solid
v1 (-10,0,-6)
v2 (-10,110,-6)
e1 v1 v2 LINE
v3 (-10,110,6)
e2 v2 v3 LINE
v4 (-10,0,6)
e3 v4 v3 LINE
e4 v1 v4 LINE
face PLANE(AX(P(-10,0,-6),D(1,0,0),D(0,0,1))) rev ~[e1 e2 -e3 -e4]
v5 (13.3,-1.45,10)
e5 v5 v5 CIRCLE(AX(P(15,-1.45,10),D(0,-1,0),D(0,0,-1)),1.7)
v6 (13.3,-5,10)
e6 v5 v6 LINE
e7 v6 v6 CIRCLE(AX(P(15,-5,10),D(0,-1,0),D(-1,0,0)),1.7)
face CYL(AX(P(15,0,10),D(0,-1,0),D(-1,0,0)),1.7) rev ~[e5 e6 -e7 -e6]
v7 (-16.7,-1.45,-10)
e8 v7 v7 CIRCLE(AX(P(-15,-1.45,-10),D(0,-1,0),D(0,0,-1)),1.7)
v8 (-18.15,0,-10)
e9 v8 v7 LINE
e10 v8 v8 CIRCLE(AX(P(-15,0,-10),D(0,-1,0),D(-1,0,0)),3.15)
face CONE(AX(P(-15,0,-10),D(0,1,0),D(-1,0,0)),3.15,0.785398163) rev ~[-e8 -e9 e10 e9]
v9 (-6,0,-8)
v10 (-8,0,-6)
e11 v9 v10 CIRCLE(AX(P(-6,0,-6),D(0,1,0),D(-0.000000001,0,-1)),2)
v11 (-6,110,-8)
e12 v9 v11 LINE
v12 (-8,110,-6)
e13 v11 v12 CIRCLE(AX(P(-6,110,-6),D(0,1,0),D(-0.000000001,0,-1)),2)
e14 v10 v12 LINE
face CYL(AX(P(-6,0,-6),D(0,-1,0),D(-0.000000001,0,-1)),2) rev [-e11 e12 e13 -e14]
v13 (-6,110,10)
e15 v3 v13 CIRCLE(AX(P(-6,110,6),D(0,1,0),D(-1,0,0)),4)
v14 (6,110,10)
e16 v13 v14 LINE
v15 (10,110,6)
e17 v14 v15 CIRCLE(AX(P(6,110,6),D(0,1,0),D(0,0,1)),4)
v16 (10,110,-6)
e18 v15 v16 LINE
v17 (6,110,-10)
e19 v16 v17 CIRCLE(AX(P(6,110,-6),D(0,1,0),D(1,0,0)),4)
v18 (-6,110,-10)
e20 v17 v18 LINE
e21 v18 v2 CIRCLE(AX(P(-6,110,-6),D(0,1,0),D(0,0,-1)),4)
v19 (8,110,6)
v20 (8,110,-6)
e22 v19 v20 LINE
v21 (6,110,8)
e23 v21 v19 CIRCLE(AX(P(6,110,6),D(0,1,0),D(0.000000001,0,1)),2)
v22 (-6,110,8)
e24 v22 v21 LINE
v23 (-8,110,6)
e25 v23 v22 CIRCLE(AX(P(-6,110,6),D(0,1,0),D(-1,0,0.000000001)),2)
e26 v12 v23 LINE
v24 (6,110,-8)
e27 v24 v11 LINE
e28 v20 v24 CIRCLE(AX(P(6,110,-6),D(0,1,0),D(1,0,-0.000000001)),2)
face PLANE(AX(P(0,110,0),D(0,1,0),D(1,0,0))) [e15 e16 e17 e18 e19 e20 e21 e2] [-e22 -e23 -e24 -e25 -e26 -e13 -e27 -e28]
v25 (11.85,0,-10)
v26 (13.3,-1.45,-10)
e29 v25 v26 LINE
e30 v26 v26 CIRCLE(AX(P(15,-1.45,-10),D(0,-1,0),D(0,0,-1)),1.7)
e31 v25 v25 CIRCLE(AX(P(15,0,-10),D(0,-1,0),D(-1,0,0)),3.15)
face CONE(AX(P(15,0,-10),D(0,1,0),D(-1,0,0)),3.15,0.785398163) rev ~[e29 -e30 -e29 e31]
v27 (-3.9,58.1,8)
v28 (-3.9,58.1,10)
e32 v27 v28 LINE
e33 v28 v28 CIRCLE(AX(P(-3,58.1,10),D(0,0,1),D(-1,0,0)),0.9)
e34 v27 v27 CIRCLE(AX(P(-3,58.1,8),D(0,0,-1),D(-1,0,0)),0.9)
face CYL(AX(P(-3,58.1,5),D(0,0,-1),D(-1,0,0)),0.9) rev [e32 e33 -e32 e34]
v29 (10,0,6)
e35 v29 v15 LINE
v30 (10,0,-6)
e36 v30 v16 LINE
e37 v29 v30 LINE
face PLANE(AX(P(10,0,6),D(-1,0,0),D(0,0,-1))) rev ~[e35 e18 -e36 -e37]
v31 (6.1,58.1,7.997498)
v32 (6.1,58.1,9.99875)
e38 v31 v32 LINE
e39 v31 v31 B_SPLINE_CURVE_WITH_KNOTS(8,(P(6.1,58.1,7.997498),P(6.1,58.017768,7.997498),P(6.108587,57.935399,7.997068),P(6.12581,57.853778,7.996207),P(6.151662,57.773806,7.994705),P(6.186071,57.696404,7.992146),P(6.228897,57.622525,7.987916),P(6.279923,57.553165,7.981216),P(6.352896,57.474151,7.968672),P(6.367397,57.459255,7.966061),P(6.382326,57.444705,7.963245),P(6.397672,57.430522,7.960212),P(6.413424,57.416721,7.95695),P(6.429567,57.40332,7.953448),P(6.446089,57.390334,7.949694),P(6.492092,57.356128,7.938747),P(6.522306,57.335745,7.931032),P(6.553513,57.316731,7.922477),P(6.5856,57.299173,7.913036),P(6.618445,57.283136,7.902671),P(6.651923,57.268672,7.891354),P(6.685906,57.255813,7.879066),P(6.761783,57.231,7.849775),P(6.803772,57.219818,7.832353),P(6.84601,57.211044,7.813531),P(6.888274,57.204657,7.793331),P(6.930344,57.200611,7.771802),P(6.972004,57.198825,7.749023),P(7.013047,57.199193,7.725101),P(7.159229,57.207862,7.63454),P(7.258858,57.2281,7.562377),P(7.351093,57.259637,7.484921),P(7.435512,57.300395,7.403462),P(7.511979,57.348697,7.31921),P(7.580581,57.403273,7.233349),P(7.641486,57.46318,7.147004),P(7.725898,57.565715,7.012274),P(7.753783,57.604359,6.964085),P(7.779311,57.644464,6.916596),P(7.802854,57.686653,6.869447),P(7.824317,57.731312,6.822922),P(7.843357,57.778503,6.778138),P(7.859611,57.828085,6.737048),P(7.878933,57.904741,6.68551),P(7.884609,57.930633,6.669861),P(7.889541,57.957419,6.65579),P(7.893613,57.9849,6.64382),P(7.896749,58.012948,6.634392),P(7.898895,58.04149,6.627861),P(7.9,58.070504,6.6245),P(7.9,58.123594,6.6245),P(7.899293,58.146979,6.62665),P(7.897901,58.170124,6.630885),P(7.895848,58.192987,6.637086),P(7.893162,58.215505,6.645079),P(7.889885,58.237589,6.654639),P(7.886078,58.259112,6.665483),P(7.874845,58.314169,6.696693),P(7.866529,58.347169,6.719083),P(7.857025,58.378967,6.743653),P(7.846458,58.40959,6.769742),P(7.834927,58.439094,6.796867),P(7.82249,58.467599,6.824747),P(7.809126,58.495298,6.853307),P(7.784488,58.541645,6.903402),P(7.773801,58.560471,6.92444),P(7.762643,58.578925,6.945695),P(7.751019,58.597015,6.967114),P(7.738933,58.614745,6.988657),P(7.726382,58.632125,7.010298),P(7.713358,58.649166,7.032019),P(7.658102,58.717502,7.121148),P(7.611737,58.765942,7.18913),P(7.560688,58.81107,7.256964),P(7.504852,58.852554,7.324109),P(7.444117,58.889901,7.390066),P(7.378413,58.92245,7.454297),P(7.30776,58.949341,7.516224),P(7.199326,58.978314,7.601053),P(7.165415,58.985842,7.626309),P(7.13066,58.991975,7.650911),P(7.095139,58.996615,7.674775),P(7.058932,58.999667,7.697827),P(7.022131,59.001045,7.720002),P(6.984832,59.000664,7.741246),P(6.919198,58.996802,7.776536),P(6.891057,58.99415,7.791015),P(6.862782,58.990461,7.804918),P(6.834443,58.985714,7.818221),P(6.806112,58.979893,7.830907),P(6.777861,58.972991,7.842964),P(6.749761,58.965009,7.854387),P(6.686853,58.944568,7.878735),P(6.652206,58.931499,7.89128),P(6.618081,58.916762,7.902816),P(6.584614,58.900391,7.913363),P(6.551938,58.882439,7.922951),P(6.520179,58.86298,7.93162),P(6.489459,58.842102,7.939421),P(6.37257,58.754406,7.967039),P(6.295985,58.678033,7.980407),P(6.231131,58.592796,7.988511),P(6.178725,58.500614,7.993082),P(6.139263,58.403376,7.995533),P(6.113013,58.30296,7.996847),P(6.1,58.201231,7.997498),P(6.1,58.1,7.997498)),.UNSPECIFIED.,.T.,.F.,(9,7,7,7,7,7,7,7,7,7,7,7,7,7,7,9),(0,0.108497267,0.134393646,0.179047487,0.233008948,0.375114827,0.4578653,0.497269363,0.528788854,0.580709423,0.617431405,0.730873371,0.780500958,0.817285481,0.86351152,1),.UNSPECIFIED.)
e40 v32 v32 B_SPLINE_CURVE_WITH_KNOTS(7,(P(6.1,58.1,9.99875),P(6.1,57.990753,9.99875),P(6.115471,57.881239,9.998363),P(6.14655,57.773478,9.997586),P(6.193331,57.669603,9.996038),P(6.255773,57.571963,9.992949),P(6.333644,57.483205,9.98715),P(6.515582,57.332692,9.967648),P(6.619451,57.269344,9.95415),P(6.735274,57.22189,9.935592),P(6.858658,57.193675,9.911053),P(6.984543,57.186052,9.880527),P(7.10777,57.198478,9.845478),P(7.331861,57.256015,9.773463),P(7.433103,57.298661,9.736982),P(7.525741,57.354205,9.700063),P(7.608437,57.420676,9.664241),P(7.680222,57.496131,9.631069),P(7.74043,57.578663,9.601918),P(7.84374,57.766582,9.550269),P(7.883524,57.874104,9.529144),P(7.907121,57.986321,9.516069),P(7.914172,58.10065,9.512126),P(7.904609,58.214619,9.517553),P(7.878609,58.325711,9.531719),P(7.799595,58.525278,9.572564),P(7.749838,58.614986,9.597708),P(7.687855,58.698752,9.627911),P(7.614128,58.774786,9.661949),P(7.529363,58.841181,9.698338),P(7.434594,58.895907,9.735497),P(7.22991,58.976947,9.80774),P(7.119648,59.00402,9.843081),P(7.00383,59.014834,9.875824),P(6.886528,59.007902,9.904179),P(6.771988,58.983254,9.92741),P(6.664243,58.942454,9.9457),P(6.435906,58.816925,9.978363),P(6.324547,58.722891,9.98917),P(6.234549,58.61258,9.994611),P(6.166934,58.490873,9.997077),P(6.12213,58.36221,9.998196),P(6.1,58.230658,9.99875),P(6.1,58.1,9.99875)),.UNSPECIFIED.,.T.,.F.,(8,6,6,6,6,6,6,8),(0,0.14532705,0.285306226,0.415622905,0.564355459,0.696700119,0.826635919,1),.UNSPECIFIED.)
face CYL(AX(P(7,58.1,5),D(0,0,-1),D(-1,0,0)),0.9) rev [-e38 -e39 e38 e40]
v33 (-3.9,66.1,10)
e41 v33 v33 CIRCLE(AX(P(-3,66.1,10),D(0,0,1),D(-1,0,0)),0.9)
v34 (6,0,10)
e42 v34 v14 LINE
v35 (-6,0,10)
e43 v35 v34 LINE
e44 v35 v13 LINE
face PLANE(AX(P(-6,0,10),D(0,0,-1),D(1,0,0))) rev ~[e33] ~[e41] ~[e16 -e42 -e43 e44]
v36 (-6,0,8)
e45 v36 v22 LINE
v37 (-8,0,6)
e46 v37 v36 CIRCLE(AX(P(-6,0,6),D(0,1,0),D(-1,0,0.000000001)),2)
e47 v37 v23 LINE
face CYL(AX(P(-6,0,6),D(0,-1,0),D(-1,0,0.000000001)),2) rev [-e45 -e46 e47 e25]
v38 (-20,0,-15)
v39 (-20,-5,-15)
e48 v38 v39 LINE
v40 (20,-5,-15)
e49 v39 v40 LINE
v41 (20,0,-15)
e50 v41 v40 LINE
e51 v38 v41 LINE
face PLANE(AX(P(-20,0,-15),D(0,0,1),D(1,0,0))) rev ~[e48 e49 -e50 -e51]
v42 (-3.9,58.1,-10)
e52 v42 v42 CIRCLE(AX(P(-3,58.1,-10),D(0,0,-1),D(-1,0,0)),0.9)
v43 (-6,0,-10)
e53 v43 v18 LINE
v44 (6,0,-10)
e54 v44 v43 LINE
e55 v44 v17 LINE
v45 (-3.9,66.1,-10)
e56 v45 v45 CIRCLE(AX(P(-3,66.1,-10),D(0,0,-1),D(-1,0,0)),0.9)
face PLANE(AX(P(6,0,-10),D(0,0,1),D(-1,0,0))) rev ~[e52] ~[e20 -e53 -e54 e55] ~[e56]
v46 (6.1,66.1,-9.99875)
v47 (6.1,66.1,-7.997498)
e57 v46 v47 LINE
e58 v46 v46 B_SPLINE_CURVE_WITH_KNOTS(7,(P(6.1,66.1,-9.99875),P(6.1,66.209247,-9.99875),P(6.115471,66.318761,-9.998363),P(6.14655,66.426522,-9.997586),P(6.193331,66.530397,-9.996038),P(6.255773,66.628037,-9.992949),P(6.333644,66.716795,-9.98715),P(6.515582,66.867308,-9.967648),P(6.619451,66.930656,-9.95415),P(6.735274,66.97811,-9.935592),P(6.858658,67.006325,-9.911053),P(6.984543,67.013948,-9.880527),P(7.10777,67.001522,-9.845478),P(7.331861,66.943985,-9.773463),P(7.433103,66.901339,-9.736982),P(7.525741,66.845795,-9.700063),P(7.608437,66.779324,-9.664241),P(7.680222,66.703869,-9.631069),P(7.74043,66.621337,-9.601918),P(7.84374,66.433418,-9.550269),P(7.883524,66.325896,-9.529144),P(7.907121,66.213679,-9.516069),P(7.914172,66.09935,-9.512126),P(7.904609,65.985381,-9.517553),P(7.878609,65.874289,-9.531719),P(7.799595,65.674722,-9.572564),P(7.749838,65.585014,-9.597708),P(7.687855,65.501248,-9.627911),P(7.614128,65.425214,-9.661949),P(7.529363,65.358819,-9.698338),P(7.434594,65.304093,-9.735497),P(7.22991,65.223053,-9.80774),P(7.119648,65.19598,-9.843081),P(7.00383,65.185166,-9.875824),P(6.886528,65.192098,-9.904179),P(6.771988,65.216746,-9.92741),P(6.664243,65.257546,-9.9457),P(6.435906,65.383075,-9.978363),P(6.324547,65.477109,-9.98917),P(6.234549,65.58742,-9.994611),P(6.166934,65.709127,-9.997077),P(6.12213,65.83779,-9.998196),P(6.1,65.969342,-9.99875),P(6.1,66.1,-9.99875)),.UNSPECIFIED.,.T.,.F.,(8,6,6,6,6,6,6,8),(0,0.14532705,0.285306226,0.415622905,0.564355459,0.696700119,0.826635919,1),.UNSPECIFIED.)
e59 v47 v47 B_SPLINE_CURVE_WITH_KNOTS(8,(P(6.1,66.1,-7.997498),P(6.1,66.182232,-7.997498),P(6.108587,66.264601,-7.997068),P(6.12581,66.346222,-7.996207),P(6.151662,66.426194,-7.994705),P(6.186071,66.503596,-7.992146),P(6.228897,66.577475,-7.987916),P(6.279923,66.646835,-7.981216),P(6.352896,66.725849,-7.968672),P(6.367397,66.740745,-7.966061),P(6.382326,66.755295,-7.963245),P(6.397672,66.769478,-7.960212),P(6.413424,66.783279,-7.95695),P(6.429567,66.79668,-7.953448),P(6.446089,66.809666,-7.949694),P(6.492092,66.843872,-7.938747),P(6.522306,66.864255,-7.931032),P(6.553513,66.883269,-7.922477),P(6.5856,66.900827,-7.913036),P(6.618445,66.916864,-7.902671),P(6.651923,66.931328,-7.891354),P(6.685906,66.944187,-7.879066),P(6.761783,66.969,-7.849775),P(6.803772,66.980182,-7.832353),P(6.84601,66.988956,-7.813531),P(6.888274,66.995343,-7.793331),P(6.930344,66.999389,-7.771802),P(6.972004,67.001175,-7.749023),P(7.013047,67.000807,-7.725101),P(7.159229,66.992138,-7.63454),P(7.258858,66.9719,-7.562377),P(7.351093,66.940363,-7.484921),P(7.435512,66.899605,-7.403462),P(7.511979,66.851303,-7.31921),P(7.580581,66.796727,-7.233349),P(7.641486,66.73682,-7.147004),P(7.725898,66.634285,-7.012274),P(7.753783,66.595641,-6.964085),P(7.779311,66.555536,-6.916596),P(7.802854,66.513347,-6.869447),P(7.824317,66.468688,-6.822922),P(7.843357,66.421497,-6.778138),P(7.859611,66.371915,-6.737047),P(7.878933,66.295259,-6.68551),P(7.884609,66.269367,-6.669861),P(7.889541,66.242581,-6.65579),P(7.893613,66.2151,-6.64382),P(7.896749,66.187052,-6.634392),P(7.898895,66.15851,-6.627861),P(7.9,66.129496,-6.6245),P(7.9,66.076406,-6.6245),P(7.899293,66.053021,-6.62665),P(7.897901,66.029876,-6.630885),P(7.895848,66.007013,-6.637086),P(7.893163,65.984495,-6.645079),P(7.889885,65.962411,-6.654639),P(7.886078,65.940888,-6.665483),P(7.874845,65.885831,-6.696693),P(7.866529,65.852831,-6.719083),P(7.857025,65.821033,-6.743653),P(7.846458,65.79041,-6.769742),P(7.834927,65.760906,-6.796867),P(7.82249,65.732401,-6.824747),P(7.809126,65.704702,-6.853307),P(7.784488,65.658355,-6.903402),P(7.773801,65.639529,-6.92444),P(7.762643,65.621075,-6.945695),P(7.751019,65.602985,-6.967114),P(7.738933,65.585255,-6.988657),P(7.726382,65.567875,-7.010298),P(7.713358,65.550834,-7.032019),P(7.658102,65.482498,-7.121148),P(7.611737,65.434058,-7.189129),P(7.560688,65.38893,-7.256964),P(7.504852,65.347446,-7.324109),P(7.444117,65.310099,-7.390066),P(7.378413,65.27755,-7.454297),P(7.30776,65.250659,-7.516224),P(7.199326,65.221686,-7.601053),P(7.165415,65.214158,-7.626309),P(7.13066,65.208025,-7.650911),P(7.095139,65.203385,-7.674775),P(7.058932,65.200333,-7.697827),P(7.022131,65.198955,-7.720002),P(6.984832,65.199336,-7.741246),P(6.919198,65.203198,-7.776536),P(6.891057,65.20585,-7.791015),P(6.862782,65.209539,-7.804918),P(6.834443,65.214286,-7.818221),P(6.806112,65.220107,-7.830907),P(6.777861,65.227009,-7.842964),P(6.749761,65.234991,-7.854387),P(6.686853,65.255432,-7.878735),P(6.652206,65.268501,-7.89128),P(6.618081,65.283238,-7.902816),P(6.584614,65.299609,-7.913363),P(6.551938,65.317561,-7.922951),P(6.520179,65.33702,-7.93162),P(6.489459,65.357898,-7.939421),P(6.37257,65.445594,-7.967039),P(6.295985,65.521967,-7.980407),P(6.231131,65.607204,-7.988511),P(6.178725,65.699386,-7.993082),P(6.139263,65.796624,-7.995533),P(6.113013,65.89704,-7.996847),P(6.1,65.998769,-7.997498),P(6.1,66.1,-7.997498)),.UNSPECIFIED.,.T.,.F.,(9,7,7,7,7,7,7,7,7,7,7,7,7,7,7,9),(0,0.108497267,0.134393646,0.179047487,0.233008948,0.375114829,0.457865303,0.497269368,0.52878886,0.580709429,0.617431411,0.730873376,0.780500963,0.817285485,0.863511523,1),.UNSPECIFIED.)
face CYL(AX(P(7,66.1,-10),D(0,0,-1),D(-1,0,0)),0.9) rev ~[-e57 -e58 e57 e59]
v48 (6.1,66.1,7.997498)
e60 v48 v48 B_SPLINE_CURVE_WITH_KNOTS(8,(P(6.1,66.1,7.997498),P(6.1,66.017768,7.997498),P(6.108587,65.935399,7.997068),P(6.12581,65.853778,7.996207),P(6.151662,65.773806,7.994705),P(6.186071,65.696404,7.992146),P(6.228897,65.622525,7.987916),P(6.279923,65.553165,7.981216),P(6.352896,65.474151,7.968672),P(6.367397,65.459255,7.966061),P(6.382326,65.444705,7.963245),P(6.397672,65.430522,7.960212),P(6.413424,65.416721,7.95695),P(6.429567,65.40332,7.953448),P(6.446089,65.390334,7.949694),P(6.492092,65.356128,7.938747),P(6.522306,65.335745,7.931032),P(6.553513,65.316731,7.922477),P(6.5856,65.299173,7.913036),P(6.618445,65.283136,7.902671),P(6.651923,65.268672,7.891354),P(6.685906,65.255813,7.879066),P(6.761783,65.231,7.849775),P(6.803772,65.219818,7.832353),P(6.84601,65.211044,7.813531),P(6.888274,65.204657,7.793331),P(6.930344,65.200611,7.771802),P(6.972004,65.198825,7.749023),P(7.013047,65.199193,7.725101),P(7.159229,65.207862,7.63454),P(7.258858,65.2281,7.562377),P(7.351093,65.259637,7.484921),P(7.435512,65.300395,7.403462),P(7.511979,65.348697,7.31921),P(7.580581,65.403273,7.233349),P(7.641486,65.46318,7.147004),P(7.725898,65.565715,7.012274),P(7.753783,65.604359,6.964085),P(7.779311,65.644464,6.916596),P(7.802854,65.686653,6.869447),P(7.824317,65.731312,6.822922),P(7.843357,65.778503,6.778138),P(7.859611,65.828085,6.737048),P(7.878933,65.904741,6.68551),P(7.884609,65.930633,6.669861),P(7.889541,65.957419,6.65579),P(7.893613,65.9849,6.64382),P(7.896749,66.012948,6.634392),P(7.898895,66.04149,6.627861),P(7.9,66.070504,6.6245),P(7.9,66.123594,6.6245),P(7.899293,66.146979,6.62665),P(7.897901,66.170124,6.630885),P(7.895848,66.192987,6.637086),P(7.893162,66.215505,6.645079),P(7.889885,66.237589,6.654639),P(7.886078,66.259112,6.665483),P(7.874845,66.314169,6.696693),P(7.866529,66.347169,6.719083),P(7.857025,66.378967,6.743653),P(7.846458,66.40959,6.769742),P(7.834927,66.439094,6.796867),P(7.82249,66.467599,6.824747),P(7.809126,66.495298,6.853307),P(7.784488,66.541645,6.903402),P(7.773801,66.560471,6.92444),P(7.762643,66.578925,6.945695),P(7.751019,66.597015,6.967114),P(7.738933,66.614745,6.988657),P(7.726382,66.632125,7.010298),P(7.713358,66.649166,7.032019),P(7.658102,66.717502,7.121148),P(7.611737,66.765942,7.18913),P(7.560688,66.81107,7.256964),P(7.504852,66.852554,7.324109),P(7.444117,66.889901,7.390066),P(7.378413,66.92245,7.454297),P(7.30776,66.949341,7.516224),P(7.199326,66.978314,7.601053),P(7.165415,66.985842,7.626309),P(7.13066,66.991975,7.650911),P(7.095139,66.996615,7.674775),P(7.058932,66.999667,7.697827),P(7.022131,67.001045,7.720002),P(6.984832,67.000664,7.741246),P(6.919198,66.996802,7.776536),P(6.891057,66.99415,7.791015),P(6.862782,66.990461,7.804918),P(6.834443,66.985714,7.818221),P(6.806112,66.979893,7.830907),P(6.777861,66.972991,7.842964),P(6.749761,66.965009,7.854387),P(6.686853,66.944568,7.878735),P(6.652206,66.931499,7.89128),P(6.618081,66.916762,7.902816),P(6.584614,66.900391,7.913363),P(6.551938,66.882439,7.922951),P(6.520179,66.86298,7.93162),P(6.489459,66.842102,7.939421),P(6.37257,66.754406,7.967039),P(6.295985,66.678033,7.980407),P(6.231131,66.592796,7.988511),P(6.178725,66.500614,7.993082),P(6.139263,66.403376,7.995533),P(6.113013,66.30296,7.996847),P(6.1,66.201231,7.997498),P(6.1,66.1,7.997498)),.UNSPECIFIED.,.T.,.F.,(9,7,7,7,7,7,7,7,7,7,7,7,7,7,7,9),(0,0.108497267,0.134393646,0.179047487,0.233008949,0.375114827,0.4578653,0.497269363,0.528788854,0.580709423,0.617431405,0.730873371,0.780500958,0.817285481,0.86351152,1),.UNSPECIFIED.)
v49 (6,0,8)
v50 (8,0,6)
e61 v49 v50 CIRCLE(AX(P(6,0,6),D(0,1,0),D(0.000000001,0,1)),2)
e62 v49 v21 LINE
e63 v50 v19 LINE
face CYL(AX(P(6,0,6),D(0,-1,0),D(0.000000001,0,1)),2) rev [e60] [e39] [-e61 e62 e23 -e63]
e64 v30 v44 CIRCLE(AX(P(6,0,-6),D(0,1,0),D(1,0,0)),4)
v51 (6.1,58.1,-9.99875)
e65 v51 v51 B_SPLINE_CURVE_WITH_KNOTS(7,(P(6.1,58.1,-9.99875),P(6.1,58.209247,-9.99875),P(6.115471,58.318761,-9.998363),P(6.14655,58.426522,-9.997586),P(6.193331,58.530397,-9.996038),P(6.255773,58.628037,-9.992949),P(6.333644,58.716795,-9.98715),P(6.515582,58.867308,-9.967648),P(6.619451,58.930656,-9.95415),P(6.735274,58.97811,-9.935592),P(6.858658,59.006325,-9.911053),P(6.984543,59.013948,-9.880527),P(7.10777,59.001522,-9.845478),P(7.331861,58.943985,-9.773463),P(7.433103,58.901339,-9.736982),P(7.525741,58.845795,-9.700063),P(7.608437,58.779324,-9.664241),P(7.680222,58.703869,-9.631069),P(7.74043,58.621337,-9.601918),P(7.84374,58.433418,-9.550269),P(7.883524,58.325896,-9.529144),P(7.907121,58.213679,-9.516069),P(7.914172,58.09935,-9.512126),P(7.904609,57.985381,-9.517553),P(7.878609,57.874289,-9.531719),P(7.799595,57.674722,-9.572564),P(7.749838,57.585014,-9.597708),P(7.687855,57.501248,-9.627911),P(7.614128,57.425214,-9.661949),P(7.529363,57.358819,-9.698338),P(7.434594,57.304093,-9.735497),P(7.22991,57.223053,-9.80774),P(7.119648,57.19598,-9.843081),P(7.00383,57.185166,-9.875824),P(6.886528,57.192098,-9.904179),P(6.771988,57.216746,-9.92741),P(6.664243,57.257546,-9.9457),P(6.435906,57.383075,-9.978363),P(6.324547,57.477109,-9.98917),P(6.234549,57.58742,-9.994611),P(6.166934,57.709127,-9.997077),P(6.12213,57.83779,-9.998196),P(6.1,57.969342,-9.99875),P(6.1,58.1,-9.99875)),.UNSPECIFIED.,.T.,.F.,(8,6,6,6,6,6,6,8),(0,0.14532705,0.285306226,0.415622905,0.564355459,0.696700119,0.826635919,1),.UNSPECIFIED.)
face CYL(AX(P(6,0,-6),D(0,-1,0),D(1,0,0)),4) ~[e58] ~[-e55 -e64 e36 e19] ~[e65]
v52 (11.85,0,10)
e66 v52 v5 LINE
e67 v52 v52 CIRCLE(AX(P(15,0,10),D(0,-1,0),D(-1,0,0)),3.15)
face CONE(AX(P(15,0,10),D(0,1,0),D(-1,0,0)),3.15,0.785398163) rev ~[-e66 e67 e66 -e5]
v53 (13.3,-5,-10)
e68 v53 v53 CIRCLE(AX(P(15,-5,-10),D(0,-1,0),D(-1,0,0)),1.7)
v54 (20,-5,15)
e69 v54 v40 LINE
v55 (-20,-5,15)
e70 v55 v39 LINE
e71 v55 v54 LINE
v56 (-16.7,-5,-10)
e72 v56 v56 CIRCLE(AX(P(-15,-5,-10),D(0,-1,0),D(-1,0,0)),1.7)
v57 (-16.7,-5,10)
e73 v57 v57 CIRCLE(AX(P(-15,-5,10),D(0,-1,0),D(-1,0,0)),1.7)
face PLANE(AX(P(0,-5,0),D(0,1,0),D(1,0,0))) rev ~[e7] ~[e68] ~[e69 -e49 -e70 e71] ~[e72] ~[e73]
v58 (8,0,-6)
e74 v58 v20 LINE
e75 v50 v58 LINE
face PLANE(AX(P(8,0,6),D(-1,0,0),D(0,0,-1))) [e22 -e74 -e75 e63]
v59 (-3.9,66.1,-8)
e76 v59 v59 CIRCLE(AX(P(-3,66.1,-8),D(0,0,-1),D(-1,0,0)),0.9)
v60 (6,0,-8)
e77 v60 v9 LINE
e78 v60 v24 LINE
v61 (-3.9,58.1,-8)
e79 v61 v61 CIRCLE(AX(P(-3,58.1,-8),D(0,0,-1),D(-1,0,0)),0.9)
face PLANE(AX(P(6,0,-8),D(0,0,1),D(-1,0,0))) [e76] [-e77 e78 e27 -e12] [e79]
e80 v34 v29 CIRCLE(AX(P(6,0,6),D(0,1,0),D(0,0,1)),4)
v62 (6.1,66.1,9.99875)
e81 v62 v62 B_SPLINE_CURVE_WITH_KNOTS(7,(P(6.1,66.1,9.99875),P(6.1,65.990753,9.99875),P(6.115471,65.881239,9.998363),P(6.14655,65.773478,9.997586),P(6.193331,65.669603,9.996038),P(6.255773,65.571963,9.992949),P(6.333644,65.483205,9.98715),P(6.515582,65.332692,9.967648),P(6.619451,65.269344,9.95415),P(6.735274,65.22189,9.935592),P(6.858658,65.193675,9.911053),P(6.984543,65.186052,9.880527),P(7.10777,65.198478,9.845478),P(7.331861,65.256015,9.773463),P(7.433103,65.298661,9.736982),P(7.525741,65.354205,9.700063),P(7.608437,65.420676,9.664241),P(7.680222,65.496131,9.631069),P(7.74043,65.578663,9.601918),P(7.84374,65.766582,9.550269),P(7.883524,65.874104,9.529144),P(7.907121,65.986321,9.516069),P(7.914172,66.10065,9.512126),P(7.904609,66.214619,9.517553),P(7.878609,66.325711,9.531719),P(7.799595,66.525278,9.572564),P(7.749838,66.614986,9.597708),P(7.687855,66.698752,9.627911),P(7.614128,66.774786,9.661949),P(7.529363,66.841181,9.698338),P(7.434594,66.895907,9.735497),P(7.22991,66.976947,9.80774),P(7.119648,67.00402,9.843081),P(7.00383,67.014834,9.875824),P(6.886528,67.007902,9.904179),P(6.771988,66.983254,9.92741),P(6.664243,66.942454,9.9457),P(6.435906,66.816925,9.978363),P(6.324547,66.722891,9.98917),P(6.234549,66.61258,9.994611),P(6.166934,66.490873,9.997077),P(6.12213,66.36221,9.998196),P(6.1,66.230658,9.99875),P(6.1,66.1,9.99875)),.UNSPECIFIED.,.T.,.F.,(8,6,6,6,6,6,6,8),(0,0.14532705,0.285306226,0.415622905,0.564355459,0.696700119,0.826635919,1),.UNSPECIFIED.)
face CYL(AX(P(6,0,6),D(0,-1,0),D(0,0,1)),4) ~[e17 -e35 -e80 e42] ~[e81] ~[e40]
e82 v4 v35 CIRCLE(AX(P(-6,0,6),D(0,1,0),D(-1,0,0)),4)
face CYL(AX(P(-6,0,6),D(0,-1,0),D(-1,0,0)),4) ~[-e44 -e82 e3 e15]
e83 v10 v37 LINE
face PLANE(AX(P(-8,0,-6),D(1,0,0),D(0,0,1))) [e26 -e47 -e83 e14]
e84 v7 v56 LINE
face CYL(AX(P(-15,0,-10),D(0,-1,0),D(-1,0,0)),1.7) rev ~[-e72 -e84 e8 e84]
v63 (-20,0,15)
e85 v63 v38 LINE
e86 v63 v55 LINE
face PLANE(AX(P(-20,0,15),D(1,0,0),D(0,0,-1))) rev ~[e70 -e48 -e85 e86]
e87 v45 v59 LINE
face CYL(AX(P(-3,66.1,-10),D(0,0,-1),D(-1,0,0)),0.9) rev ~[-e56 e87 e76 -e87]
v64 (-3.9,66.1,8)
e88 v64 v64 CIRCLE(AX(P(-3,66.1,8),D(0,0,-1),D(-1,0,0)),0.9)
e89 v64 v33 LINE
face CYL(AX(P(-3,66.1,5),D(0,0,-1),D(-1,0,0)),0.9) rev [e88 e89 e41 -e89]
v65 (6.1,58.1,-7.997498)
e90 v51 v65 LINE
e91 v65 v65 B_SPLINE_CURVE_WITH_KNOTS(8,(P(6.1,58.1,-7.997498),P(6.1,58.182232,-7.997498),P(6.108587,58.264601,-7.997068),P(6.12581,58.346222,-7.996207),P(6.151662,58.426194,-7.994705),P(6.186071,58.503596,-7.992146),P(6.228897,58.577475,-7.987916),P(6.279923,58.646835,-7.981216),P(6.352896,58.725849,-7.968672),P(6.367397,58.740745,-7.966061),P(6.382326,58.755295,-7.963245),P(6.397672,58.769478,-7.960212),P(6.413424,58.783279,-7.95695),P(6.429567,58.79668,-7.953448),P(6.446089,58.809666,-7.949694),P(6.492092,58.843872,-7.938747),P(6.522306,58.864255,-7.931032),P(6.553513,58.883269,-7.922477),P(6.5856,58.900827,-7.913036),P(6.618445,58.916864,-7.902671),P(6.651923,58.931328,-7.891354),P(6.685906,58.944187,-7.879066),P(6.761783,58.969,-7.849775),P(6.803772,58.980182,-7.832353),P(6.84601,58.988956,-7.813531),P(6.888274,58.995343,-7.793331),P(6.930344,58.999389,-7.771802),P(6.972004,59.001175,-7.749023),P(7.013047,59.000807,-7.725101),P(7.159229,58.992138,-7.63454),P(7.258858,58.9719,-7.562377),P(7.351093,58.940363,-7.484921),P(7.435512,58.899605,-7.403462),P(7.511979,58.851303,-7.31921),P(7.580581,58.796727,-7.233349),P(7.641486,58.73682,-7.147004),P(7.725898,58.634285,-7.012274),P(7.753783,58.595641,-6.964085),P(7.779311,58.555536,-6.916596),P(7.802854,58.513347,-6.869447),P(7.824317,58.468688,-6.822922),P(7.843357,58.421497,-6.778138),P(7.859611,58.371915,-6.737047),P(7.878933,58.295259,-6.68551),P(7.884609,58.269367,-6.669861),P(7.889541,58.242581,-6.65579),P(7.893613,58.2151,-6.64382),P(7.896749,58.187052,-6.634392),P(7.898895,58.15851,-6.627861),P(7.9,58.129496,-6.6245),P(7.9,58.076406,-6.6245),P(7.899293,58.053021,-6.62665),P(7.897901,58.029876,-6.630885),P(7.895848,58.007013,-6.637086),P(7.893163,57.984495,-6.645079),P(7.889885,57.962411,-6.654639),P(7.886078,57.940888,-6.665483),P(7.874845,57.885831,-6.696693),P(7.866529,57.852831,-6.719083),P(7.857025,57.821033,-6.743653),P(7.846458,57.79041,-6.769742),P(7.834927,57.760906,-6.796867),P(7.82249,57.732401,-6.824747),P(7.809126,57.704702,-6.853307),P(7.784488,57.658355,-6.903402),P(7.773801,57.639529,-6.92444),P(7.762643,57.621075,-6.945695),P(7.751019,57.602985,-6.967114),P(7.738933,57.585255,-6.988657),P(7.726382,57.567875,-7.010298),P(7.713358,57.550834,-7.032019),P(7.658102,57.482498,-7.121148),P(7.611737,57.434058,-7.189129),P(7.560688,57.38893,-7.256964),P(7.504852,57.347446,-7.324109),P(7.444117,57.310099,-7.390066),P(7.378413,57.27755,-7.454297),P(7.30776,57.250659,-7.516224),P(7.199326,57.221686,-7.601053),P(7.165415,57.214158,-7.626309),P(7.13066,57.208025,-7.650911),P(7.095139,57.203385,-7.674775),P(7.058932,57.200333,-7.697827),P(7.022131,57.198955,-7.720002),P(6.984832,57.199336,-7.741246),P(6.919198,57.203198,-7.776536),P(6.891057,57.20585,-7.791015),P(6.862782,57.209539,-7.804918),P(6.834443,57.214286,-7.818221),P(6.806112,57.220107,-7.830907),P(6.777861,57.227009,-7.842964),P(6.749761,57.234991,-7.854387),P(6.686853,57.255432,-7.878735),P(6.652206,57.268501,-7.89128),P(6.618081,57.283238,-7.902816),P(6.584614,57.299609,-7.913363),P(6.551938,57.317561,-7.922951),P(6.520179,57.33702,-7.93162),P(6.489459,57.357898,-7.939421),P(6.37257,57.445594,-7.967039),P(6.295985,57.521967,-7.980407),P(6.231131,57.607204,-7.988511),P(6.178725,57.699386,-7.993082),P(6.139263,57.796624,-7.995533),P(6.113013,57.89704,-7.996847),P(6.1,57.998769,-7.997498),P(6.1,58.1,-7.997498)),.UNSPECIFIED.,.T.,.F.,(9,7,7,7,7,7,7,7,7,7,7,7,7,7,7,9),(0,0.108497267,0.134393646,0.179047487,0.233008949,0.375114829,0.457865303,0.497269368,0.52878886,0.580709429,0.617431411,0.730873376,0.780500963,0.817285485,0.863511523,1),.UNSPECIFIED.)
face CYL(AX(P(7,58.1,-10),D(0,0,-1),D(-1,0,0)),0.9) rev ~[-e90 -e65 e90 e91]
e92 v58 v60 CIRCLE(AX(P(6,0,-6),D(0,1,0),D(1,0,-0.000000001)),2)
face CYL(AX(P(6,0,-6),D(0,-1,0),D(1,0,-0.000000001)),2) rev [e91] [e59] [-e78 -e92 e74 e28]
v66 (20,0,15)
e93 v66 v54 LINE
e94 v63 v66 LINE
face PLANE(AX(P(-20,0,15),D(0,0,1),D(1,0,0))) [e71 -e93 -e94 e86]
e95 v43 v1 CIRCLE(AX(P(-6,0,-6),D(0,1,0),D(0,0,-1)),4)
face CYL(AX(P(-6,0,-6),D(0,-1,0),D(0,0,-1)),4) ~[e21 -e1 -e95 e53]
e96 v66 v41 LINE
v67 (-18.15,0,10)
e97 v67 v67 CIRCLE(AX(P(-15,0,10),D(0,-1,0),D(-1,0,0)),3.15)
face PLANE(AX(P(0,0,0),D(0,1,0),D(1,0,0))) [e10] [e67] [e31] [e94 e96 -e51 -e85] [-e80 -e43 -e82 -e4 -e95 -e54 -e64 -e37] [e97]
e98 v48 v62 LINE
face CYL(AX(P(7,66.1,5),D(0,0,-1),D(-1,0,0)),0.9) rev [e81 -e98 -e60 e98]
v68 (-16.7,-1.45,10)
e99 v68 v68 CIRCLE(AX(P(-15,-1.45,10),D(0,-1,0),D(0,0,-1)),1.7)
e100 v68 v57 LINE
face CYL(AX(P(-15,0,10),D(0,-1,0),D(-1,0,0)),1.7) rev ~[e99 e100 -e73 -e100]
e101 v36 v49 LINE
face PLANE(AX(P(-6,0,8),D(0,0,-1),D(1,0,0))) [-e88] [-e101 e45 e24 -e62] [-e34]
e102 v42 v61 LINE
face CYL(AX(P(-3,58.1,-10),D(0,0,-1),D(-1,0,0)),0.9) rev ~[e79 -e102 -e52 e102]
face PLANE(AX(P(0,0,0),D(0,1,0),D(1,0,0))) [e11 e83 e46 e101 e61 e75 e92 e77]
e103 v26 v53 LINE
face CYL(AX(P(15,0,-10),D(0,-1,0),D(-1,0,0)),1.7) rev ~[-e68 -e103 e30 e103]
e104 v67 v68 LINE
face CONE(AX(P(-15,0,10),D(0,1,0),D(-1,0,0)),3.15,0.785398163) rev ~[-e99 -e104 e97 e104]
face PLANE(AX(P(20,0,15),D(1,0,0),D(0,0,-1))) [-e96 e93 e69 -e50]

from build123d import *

# Parameters (mm, degrees)
SQUARE_TUBE_20_X_20_X_2_1_DEPTH                     = 110
SKETCH2_W                                           = 40
SKETCH2_H                                           = 30
BOSS_EXTRUDE1_DEPTH                                 = 5
CSK_FOR_M3_COUNTERSUNK_FLAT_HEAD_SCREW1_D           = 3.4
CSK_FOR_M3_COUNTERSUNK_FLAT_HEAD_SCREW1_DEPTH       = 30
CSK_FOR_M3_COUNTERSUNK_FLAT_HEAD_SCREW1_CSINK_D     = 6.3
CSK_FOR_M3_COUNTERSUNK_FLAT_HEAD_SCREW1_CSINK_ANGLE = 90
CSK_FOR_M3_COUNTERSUNK_FLAT_HEAD_SCREW1_TIP         = 1.021463052
SKETCH5_R                                           = 0.9
CUT_EXTRUDE1_DEPTH                                  = 5
CUT_EXTRUDE2_START                                  = -5
SKETCH6_R                                           = 0.9
CUT_EXTRUDE2_DEPTH                                  = 5


with BuildPart() as part:
    # Sketch1 → Square tube 20 X 20 X 2(1) (new body)
    with BuildSketch(Plane(origin=(0, 0, 0), x_dir=(1, 0, 0), z_dir=(0, 1, 0))):
        with BuildLine():
            Line((-6, -10), (6, -10))
            ThreePointArc((6, -10), (8.828427125, -8.828427125), (10, -6))
            Line((10, -6), (10, 6))
            ThreePointArc((10, 6), (8.828427125, 8.828427125), (6, 10))
            Line((6, 10), (-6, 10))
            ThreePointArc((-6, 10), (-8.828427125, 8.828427125), (-10, 6))
            Line((-10, 6), (-10, -6))
            ThreePointArc((-10, -6), (-8.828427125, -8.828427125), (-6, -10))
        make_face()
        with BuildLine():
            Line((-6, -8), (6, -8))
            ThreePointArc((6, -8), (7.414213562, -7.414213562), (8, -6))
            Line((8, -6), (8, 6))
            ThreePointArc((8, 6), (7.414213562, 7.414213562), (6, 8))
            Line((6, 8), (-6, 8))
            ThreePointArc((-6, 8), (-7.414213562, 7.414213562), (-8, 6))
            Line((-8, 6), (-8, -6))
            ThreePointArc((-8, -6), (-7.414213562, -7.414213562), (-6, -8))
        make_face(mode=Mode.SUBTRACT)
    extrude(amount=SQUARE_TUBE_20_X_20_X_2_1_DEPTH)

    # Sketch2 → Boss-Extrude1 (add)
    with BuildSketch(Plane(origin=(0, 0, 0), x_dir=(1, 0, 0), z_dir=(0, 1, 0))):
        Rectangle(SKETCH2_W, SKETCH2_H)
    extrude(amount=-BOSS_EXTRUDE1_DEPTH)

    # CSK for M3 Countersunk Flat Head Screw1
    with Locations(Plane(origin=(0, 0, 0), x_dir=(1, 0, 0), z_dir=(0, 1, 0))):
        with Locations((15, 10), (-15, 10), (-15, -10), (15, -10)):
            CounterSinkHole(CSK_FOR_M3_COUNTERSUNK_FLAT_HEAD_SCREW1_D / 2, CSK_FOR_M3_COUNTERSUNK_FLAT_HEAD_SCREW1_CSINK_D / 2, depth=CSK_FOR_M3_COUNTERSUNK_FLAT_HEAD_SCREW1_DEPTH, counter_sink_angle=CSK_FOR_M3_COUNTERSUNK_FLAT_HEAD_SCREW1_CSINK_ANGLE)
            with Locations((0, 0, -(CSK_FOR_M3_COUNTERSUNK_FLAT_HEAD_SCREW1_DEPTH + CSK_FOR_M3_COUNTERSUNK_FLAT_HEAD_SCREW1_TIP / 2))):  # 118° drill point
                Cone(0, CSK_FOR_M3_COUNTERSUNK_FLAT_HEAD_SCREW1_D / 2, CSK_FOR_M3_COUNTERSUNK_FLAT_HEAD_SCREW1_TIP, mode=Mode.SUBTRACT)

    # Sketch5 → Cut-Extrude1 (cut)
    with BuildSketch(Plane(origin=(0, 0, -10), x_dir=(-1, 0, 0), z_dir=(0, 0, -1))):
        with Locations((2.999999983, 66.1)):
            Circle(SKETCH5_R)
        with Locations((2.999999983, 58.1)):
            Circle(SKETCH5_R)
        with Locations((-7.000000017, 58.1)):
            Circle(SKETCH5_R)
        with Locations((-7.000000017, 66.1)):
            Circle(SKETCH5_R)
    extrude(amount=-CUT_EXTRUDE1_DEPTH, mode=Mode.SUBTRACT)

    # Sketch6 → Cut-Extrude2 (cut)
    with BuildSketch(Plane.XY.offset(10).offset(CUT_EXTRUDE2_START)):
        with Locations(Location((-2.999999994, 66.1, 0), (0, 0, 180))):
            Circle(SKETCH6_R)
        with Locations(Location((7.000000006, 66.1, 0), (0, 0, 180))):
            Circle(SKETCH6_R)
        with Locations(Location((7.000000006, 58.1, 0), (0, 0, 180))):
            Circle(SKETCH6_R)
        with Locations(Location((-2.999999994, 58.1, 0), (0, 0, 180))):
            Circle(SKETCH6_R)
    extrude(amount=CUT_EXTRUDE2_DEPTH, mode=Mode.SUBTRACT)


solid = part.part
